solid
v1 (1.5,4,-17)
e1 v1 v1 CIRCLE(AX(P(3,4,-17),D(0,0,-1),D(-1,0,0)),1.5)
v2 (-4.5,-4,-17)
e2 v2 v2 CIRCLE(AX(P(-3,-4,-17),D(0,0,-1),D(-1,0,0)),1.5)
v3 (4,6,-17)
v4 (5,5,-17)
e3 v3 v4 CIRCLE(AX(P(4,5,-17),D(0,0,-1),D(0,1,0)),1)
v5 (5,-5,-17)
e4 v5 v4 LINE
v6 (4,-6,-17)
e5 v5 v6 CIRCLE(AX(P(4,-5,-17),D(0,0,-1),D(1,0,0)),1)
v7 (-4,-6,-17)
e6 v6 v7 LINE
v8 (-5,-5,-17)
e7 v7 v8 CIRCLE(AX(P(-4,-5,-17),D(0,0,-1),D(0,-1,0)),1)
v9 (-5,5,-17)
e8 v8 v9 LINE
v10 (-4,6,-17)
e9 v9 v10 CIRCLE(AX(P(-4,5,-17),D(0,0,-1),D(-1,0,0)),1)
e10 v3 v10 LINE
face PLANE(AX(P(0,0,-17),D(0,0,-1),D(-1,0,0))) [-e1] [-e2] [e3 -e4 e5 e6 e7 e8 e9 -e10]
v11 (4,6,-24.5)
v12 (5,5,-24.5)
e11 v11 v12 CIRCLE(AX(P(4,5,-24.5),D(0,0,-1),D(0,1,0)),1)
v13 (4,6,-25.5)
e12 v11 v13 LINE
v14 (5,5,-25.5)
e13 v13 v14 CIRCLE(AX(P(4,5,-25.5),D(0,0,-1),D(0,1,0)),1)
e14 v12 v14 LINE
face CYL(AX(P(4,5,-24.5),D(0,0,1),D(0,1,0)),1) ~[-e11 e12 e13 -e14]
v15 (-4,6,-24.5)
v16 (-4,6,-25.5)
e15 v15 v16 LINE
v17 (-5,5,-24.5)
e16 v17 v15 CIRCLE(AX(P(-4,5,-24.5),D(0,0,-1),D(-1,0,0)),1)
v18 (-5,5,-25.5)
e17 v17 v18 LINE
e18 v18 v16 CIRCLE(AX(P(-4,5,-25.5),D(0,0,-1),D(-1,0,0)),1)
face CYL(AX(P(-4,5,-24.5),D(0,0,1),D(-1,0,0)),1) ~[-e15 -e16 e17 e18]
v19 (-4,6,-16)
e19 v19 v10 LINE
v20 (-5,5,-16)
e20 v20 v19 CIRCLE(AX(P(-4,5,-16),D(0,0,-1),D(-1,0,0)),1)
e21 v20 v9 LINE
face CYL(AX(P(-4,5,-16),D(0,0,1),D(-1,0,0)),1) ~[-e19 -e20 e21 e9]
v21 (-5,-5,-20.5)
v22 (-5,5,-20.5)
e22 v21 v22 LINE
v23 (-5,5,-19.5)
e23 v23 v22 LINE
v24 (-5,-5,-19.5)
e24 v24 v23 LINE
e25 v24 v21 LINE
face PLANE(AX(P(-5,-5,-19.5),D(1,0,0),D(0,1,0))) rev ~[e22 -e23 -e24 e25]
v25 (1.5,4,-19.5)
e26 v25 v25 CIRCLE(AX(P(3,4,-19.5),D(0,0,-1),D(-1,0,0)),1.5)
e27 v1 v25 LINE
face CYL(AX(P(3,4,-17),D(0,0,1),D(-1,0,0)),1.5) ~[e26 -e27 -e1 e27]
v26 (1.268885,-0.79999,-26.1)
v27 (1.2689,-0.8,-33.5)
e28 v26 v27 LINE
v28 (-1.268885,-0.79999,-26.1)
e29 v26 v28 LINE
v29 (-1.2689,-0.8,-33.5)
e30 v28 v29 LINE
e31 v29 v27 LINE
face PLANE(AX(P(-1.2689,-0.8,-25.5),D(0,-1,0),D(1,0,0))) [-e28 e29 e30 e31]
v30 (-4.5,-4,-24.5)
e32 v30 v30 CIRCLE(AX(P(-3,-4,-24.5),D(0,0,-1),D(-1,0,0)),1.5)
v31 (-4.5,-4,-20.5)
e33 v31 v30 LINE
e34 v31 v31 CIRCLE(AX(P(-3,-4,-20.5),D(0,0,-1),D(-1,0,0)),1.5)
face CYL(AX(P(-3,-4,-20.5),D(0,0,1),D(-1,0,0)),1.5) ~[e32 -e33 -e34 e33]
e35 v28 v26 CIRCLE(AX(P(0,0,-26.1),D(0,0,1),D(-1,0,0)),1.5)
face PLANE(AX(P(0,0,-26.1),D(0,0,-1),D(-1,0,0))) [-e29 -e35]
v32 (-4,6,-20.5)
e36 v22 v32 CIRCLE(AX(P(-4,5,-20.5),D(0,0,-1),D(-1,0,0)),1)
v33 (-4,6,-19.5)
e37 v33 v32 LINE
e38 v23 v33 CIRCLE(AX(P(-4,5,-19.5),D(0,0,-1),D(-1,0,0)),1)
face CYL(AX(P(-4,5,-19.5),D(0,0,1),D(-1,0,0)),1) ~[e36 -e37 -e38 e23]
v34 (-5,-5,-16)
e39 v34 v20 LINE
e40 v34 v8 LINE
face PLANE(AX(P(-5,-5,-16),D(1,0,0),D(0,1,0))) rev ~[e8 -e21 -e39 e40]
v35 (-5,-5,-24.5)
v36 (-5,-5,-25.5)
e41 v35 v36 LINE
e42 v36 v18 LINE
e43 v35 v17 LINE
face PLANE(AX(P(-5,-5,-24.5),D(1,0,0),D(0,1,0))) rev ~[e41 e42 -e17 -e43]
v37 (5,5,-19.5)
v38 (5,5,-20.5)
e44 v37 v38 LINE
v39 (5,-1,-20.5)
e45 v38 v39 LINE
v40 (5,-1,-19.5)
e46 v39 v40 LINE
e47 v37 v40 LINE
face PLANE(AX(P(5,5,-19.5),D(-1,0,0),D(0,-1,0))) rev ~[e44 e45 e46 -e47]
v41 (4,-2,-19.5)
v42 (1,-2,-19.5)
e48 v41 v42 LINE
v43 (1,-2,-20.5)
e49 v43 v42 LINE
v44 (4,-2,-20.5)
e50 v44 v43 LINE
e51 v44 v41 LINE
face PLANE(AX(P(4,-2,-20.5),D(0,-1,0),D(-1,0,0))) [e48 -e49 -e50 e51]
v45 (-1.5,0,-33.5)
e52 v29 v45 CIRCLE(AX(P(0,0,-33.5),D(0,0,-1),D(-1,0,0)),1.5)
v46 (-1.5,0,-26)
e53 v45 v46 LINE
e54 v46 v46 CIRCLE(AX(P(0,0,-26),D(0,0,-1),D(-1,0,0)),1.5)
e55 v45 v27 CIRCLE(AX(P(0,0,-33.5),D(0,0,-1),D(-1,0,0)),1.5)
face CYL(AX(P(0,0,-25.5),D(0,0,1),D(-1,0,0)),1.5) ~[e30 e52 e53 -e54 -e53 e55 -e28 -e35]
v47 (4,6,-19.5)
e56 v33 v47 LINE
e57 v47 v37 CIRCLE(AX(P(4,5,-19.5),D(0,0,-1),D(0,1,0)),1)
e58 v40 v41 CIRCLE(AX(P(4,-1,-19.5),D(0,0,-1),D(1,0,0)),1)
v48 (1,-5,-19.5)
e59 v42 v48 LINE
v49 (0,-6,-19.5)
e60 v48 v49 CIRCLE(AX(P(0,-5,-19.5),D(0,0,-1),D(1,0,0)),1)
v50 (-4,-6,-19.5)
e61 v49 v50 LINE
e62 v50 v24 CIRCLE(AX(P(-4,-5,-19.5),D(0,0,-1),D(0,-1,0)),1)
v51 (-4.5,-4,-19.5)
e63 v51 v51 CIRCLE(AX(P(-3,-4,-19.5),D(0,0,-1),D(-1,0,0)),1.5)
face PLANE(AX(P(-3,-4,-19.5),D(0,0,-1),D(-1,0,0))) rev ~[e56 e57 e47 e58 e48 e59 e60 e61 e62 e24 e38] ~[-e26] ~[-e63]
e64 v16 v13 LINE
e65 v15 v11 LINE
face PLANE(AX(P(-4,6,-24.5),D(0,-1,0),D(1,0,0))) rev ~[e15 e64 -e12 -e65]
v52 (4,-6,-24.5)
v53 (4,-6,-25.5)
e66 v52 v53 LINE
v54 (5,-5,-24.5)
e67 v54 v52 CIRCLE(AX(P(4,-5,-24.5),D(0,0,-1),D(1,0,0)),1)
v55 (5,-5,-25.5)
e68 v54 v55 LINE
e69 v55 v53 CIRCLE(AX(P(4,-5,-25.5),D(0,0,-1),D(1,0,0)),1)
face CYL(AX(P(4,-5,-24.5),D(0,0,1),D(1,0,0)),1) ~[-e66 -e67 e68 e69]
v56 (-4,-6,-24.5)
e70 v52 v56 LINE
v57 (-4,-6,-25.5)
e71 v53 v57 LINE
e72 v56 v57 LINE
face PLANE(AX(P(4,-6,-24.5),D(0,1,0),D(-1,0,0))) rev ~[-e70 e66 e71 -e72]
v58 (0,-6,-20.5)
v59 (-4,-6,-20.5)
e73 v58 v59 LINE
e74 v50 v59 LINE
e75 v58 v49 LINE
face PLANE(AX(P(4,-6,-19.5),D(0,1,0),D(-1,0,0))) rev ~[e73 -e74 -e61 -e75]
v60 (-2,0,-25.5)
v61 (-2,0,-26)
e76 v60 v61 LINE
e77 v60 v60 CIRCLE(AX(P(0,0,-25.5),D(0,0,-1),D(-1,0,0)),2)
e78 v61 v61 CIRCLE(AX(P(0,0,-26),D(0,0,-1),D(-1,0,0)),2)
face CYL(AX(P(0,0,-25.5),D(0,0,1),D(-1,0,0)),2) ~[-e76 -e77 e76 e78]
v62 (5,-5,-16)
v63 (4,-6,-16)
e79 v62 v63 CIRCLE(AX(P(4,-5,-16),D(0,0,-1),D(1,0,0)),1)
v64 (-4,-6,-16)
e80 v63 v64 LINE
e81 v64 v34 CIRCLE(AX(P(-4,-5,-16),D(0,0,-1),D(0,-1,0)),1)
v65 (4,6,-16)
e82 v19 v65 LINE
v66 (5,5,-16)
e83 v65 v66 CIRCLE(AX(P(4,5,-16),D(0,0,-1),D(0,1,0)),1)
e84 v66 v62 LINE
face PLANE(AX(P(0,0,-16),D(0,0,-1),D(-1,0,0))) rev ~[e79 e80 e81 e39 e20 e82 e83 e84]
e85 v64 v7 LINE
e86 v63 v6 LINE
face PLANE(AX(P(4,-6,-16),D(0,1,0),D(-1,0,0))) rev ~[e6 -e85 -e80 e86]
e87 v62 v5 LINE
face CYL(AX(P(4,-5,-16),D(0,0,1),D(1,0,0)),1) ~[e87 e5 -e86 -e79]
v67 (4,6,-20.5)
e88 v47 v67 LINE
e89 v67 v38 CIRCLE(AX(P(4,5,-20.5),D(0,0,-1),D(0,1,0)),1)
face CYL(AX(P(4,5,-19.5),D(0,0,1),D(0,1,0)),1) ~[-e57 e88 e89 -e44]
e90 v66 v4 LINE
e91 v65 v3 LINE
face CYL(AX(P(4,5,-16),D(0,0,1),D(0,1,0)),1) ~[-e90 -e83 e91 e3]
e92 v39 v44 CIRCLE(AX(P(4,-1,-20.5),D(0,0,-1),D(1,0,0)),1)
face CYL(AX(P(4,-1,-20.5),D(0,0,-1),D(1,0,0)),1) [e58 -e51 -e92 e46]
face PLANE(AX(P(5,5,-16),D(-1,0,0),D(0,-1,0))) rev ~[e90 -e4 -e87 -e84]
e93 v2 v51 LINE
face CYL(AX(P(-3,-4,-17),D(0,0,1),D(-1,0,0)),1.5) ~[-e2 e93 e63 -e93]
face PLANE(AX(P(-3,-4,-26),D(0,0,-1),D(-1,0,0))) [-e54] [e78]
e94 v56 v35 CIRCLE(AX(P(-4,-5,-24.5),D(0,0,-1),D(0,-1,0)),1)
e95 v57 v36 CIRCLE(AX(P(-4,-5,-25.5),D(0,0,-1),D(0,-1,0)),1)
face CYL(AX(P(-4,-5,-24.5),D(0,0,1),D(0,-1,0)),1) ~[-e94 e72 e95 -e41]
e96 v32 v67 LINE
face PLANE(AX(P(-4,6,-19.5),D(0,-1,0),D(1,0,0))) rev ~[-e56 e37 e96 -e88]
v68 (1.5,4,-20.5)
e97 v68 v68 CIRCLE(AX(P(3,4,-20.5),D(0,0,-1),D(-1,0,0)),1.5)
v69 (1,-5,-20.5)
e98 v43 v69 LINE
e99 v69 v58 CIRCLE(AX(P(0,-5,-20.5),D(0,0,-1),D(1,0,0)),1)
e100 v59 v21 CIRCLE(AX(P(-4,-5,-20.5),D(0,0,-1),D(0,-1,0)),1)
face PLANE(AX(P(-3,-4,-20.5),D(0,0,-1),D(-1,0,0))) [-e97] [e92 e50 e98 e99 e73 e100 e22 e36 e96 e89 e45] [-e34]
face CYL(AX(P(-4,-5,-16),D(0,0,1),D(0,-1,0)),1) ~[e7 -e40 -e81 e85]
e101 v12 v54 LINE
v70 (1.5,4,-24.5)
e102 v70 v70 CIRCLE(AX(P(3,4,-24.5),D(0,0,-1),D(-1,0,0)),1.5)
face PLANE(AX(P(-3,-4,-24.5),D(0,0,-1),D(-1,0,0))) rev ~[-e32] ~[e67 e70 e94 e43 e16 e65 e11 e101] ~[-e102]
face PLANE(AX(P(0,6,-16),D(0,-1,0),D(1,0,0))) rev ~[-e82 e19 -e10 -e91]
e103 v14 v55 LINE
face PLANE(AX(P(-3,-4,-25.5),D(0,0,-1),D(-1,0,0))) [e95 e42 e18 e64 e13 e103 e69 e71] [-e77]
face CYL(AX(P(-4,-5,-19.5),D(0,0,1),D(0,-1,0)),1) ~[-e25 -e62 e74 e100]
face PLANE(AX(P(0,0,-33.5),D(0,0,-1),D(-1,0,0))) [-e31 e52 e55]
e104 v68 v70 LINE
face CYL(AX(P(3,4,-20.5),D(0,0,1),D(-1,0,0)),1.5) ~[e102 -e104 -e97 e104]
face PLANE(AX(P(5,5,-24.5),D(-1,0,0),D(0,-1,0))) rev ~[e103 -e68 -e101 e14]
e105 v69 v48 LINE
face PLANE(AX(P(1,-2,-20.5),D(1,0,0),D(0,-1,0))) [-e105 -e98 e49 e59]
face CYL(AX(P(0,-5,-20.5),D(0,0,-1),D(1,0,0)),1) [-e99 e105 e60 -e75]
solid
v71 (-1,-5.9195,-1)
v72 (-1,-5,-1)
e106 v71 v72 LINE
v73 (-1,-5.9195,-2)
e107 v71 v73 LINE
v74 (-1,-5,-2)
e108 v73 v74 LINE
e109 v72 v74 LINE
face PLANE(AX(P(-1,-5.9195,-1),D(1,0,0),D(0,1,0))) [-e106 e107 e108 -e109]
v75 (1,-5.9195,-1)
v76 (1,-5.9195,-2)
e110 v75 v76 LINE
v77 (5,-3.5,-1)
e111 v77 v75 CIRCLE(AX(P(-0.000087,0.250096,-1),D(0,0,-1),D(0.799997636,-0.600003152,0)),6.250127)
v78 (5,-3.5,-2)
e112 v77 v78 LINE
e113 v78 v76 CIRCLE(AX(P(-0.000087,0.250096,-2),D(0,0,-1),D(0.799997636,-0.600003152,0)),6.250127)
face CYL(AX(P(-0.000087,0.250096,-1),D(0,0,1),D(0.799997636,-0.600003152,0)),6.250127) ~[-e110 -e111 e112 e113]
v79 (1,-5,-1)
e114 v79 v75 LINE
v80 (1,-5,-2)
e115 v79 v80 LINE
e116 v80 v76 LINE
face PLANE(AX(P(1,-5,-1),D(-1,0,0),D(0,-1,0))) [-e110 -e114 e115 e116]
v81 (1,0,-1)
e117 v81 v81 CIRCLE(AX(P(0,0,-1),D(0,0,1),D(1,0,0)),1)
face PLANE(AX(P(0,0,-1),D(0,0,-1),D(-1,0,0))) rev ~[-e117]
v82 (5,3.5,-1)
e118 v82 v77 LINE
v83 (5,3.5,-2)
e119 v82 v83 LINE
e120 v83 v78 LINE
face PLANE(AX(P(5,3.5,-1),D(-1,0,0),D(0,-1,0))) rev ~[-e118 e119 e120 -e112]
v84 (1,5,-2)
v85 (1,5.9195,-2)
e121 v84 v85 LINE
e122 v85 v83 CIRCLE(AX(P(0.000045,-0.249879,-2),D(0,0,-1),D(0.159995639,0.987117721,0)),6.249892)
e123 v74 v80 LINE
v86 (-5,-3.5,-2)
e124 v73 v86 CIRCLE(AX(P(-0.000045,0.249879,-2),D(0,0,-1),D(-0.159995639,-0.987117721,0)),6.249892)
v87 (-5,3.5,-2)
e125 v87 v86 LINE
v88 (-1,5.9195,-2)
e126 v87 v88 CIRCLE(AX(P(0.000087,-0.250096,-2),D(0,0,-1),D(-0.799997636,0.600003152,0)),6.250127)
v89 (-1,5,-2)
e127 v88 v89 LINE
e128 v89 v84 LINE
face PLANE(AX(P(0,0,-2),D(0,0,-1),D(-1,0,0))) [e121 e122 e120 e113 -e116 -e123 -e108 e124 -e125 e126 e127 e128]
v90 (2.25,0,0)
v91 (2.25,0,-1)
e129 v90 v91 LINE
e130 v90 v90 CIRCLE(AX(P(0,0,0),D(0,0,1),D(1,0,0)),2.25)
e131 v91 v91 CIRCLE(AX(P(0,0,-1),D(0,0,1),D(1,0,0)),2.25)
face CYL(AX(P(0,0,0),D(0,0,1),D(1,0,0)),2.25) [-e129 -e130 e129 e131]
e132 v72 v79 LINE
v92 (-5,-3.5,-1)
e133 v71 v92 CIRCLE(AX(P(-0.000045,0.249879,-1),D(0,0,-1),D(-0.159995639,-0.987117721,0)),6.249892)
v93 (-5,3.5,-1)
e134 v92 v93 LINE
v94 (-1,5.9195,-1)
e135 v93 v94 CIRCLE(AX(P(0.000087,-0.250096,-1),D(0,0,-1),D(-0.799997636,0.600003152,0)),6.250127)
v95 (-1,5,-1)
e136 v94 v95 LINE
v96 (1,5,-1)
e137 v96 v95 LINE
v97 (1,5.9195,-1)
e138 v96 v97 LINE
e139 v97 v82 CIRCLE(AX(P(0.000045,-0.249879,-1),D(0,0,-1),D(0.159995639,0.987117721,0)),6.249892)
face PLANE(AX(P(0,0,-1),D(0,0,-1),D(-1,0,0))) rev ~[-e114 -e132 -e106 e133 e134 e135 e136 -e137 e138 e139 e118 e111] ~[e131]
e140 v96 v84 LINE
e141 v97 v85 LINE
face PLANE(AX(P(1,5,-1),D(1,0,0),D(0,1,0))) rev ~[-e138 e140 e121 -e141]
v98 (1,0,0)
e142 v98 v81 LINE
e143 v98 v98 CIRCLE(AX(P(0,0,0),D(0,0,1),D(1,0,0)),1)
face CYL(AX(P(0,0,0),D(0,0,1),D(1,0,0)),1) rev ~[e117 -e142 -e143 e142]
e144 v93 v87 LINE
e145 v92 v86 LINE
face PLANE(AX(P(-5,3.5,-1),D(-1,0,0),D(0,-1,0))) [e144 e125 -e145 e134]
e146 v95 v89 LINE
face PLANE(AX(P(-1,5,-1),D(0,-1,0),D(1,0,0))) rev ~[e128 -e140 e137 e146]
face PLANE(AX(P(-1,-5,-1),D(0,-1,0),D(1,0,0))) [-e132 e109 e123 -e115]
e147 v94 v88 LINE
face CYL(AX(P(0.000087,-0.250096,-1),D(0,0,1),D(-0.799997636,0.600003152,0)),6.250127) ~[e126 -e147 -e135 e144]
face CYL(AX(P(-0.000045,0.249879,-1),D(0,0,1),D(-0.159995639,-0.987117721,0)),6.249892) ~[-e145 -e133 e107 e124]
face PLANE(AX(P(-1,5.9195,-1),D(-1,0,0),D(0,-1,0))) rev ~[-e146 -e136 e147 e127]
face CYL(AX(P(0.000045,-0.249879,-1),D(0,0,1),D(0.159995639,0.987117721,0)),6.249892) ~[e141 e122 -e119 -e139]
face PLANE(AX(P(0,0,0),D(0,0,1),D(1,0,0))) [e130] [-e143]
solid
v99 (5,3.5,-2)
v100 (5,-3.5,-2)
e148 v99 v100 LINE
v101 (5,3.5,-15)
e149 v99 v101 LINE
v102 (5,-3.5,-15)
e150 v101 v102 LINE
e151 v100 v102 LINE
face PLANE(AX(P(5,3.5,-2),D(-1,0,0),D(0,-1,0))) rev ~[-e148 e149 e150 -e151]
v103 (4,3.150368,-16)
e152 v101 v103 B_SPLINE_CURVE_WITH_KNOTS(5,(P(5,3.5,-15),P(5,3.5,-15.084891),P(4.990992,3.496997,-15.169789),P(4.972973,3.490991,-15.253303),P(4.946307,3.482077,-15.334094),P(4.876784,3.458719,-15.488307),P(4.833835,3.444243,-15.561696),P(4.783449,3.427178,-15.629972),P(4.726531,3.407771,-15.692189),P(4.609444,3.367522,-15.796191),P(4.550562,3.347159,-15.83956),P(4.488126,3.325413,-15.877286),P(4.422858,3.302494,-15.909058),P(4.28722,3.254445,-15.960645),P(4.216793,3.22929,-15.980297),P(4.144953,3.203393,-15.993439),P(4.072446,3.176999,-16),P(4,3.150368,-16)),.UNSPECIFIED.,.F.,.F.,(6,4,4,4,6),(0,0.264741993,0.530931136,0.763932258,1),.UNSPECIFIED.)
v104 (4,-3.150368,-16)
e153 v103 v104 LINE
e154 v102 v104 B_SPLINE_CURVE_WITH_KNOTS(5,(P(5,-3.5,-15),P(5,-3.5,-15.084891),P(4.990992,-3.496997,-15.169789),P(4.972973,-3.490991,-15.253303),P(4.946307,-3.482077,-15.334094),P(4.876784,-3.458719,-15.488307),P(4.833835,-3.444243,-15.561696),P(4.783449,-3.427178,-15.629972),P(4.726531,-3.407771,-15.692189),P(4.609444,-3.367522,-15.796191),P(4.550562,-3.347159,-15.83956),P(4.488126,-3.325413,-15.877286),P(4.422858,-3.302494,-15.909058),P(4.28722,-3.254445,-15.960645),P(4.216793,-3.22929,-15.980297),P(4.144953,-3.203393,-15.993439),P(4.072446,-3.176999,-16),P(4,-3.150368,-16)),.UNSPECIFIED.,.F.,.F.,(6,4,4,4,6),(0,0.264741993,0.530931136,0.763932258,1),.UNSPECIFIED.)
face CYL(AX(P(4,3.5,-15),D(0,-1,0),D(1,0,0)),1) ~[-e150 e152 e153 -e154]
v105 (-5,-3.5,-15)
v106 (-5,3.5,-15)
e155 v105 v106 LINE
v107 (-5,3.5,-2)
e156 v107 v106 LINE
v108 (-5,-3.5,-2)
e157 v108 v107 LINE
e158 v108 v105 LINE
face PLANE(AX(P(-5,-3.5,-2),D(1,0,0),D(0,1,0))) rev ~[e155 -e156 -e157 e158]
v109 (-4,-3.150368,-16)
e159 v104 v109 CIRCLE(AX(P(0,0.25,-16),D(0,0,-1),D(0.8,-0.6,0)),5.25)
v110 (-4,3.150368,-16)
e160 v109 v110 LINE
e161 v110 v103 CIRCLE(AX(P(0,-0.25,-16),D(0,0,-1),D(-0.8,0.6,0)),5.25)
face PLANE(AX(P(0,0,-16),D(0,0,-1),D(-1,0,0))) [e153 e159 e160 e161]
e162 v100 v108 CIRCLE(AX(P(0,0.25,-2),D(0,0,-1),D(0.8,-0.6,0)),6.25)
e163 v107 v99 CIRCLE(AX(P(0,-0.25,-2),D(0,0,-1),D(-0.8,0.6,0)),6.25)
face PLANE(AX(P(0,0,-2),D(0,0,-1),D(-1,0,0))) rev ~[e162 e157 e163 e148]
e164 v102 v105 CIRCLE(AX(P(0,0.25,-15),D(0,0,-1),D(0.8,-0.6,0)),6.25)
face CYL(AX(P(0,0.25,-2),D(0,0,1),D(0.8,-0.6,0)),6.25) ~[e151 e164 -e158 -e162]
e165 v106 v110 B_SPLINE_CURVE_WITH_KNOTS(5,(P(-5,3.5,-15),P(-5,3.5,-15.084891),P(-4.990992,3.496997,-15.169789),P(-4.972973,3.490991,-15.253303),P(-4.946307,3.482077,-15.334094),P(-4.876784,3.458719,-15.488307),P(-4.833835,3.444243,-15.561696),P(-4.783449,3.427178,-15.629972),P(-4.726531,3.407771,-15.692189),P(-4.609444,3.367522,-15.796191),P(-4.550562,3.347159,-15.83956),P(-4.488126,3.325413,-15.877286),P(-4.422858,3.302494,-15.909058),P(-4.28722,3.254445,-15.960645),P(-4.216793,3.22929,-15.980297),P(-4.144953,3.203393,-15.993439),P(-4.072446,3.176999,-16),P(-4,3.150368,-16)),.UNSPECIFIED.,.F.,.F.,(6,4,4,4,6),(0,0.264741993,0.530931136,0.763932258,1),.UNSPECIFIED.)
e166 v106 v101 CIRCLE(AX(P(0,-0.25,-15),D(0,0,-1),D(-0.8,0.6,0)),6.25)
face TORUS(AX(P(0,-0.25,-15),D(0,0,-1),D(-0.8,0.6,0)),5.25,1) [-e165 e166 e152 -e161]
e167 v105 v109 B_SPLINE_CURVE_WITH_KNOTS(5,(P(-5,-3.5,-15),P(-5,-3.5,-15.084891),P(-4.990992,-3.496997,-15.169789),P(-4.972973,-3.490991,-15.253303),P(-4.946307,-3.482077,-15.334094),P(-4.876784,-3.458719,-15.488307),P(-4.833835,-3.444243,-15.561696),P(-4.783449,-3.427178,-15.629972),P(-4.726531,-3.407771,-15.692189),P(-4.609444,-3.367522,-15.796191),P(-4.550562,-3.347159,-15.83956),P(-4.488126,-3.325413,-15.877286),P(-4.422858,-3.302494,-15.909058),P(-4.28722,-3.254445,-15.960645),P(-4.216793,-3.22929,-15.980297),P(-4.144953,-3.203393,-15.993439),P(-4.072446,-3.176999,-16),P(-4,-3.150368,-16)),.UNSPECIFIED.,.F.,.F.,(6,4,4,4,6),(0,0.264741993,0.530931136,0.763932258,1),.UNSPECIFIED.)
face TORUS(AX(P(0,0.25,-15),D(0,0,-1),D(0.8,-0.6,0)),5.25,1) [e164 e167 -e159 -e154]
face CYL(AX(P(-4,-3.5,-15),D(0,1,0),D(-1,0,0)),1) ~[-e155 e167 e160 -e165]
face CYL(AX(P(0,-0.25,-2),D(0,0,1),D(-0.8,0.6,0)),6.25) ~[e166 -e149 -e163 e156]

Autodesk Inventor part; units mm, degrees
ref_plane "YZ Plane" through (0, 0, 0) normal (1, 0, 0) x (0, 1, 0)
ref_plane "XZ Plane" through (0, 0, 0) normal (0, 1, 0) x (-1, 0, 0)
ref_plane "XY Plane" through (0, 0, 0) normal (0, 0, 1) x (1, 0, 0)
sketch "草图1" plane through (0, 0, 0) normal (0, 0, 1) x (1, 0, 0)
  circle A0 centre (0, 0) radius 2.25
  circle A1 centre (0, 0) radius 1
  dimension "d0" = 4.5
  dimension "d1" = 2
extrude "拉伸1" add sketch "草图1" against normal blind 1
sketch "草图2" plane through (0, 0, -1) normal (0, 0, -1) x (-1, 0, 0)
  line L0 (5, 3.5) -> (5, -3.5)
  line L1 (-5, 3.5) -> (-5, -3.5)
  line L2 (5, -3.5) -> (-5, -3.5) construction
  line L3 (5, 3.5) -> (-5, 3.5) construction
  line L4 (0, 0) -> (0, 19.9498)
  line L5 (0, 0) -> (7.1401, 0)
  line L6 (1, 5.9195) -> (1, 5)
  line L7 (1, 5) -> (-1, 5)
  line L8 (-1, 5) -> (-1, 5.9195)
  arc A0 (5, 3.5) -> (1, 5.9195) centre (0, -0.25) ccw
  arc A1 (-1, 5.9195) -> (-5, 3.5) centre (0, -0.25) ccw
  line L9 (1, -5.9195) -> (1, -5)
  line L10 (1, -5) -> (-1, -5)
  line L11 (-1, -5) -> (-1, -5.9195)
  arc A2 (-5, -3.5) -> (-1, -5.9195) centre (0, 0.25) ccw
  arc A3 (1, -5.9195) -> (5, -3.5) centre (0, 0.25) ccw
  point P0 (0, 6)
  point P1 (0, 6)
  dimension "d4" = 10
  dimension "d7" = 7
  dimension "d8" = 6
  dimension "d9" = 1
  dimension "d10" = 2
extrude "拉伸2" add sketch "草图2" along normal blind 1
sketch "草图3" plane through (0, 0, -2) normal (0, 0, -1) x (-1, 0, 0)
  line L0 (1, 5) -> (-1, 5) construction
  line L1 (-1, 5) -> (-1, 5.9195) construction
  arc A0 (-1, 5.9195) -> (-5, 3.5) centre (0, -0.25) ccw construction
  line L2 (-5, 3.5) -> (-5, -3.5) projected
  arc A1 (-5, -3.5) -> (-1, -5.9195) centre (0, 0.25) ccw construction
  line L3 (-1, -5.9195) -> (-1, -5) construction
  line L4 (-1, -5) -> (1, -5) construction
  line L5 (1, -5) -> (1, -5.9195) construction
  arc A2 (1, -5.9195) -> (5, -3.5) centre (0, 0.25) ccw construction
  line L6 (5, -3.5) -> (5, 3.5) projected
  arc A3 (5, 3.5) -> (1, 5.9195) centre (0, -0.25) ccw construction
  line L7 (1, 5.9195) -> (1, 5) construction
  arc A4 (5, 3.5) -> (-5, 3.5) centre (0, -0.25) ccw
  line L8 (0, 0) -> (3.3982, 0)
  arc A5 (-5, -3.5) -> (5, -3.5) centre (0, 0.25) ccw
extrude "拉伸3" add sketch "草图3" along normal blind 14 separate body
fillet "圆角1" radius 1 4 edges at (0, 6, -16) (-5, 0, -16) (0, -6, -16) (5, 0, -16)
sketch "草图4" plane through (0, 0, -16) normal (0, 0, -1) x (-1, 0, 0)
  line L0 (-5, 5) -> (-5, -5)
  line L1 (-4, -6) -> (4, -6)
  line L2 (5, -5) -> (5, 5)
  line L3 (4, 6) -> (-4, 6)
  line L4 (0, 0) -> (0, 19.5528)
  line L5 (0, 0) -> (-9.7016, 0)
  arc A0 (-5, -5) -> (-4, -6) centre (-4, -5) ccw
  arc A1 (-4, 6) -> (-5, 5) centre (-4, 5) ccw
  arc A2 (5, 5) -> (4, 6) centre (4, 5) ccw
  arc A3 (4, -6) -> (5, -5) centre (4, -5) ccw
  dimension "d16" = 1
  dimension "d17" = 10
  dimension "d18" = 12
extrude "拉伸4" add sketch "草图4" along normal blind 1 separate body
sketch "草图5" plane through (0, 0, -17) normal (0, 0, -1) x (-1, 0, 0)
  circle A0 centre (3, -4) radius 1.5
  circle A1 centre (-3, 4) radius 1.5
  line L0 (5, -5) -> (5, 5) projected
  line L1 (-4, -6) -> (4, -6) projected
  line L2 (4, 6) -> (-4, 6) projected
  line L3 (-5, 5) -> (-5, -5) projected
  point P0 (0, 0)
  dimension "d21" = 3
  dimension "d22" = 2
  dimension "d23" = 2
  dimension "d24" = 2
  dimension "d25" = 2
extrude "拉伸5" add sketch "草图5" along normal blind 2.5 bodies 3
sketch "草图6" plane through (-3, -4, -19.5) normal (0, 0, -1) x (-1, 0, 0)
  circle A0 centre (-6, 8) radius 1.5 construction
  circle A1 centre (0, 0) radius 1.5 construction
  line L0 (-8, 9) -> (-8, -1) projected
  arc A2 (-8, -1) -> (-7, -2) centre (-7, -1) ccw projected
  line L1 (-7, -2) -> (1, -2) projected
  arc A3 (1, -2) -> (2, -1) centre (1, -1) ccw projected
  line L2 (2, -1) -> (2, 9) projected
  arc A4 (2, 9) -> (1, 10) centre (1, 9) ccw projected
  line L3 (1, 10) -> (-7, 10) projected
  arc A5 (-7, 10) -> (-8, 9) centre (-7, 9) ccw projected
  point P0 (-3, 4)
extrude "拉伸6" add sketch "草图6" along normal blind 1 bodies 3
sketch "草图7" plane through (-3, -4, -20.5) normal (0, 0, -1) x (-1, 0, 0)
  circle A0 centre (0, 0) radius 1.5 projected
  circle A1 centre (-6, 8) radius 1.5 projected
  point P0 (-3, 4)
extrude "拉伸7" add sketch "草图7" along normal blind 4 bodies 3
sketch "草图8" plane through (-3, -4, -24.5) normal (0, 0, -1) x (-1, 0, 0)
  circle A0 centre (-6, 8) radius 1.5 construction
  circle A1 centre (0, 0) radius 1.5 construction
  arc A2 (-8, -1) -> (-7, -2) centre (-7, -1) ccw projected
  line L0 (-7, -2) -> (1, -2) projected
  arc A3 (1, -2) -> (2, -1) centre (1, -1) ccw projected
  line L1 (2, -1) -> (2, 9) projected
  arc A4 (2, 9) -> (1, 10) centre (1, 9) ccw projected
  line L2 (1, 10) -> (-7, 10) projected
  arc A5 (-7, 10) -> (-8, 9) centre (-7, 9) ccw projected
  line L3 (-8, 9) -> (-8, -1) projected
  point P0 (-3, 4)
extrude "拉伸8" add sketch "草图8" along normal blind 1 bodies 3
sketch "草图9" plane through (-3, -4, -25.5) normal (0, 0, -1) x (-1, 0, 0)
  circle A0 centre (-3, 4) radius 1 projected
  circle A1 centre (-3, 4) radius 2
  circle A2 centre (-3, 4) radius 1.5
  dimension "d34" = 4
  dimension "d35" = 3
extrude "拉伸9" add sketch "草图9" along normal blind 0.5 contours A1 bodies 3
sketch "草图10" plane through (0, 0, -25.5) normal (0, 0, -1) x (-1, 0, 0)
  circle A0 centre (0, 0) radius 1.5
  circle A1 centre (0, 0) radius 1.5 projected
  line L0 (1.2689, -0.8) -> (-1.2689, -0.8)
  point P0 (1.2689, -0.8)
  dimension "d38" = 2.3
  dimension "d39" = 3
sketch "草图11" plane through (-3, -4, -20.5) normal (0, 0, -1) x (-1, 0, 0)
  line L0 (-7, 2) -> (-4, 2)
  line L1 (-4, 2) -> (-4, -1)
  line L2 (-7, -2) -> (1, -2) construction
  line L3 (-7, -2) -> (1, -2) projected
  arc A0 (-4, -1) -> (-3, -2) centre (-3, -1) ccw
  arc A1 (-8, 3) -> (-7, 2) centre (-7, 3) ccw
  arc A2 (-8, -1) -> (-7, -2) centre (-7, -1) ccw projected
  line L4 (-3, -2) -> (-7, -2)
  arc A3 (-8, 0.5) -> (2, 0.5) centre (-3, 4.25) ccw construction
  line L5 (-8, 9) -> (-8, -1) construction
  line L6 (-8, 3) -> (-8, -1)
  point P0 (-3, 4)
  point P1 (-8, 2)
  point P2 (-4, -2)
  dimension "d45" = 4
  dimension "d46" = 1
  dimension "d47" = 1
extrude "拉伸12" cut sketch "草图11" against normal blind 1.5 bodies 3
extrude "拉伸10" add sketch "草图10" along normal blind 0.6 bodies 3
extrude "拉伸13" add sketch "草图10" along normal blind 8 contours A0 L0 picked at (0.3589, -0.0009) bodies 3
properties part number "GA12-N20微型减速直流电机3V_15RPM"
